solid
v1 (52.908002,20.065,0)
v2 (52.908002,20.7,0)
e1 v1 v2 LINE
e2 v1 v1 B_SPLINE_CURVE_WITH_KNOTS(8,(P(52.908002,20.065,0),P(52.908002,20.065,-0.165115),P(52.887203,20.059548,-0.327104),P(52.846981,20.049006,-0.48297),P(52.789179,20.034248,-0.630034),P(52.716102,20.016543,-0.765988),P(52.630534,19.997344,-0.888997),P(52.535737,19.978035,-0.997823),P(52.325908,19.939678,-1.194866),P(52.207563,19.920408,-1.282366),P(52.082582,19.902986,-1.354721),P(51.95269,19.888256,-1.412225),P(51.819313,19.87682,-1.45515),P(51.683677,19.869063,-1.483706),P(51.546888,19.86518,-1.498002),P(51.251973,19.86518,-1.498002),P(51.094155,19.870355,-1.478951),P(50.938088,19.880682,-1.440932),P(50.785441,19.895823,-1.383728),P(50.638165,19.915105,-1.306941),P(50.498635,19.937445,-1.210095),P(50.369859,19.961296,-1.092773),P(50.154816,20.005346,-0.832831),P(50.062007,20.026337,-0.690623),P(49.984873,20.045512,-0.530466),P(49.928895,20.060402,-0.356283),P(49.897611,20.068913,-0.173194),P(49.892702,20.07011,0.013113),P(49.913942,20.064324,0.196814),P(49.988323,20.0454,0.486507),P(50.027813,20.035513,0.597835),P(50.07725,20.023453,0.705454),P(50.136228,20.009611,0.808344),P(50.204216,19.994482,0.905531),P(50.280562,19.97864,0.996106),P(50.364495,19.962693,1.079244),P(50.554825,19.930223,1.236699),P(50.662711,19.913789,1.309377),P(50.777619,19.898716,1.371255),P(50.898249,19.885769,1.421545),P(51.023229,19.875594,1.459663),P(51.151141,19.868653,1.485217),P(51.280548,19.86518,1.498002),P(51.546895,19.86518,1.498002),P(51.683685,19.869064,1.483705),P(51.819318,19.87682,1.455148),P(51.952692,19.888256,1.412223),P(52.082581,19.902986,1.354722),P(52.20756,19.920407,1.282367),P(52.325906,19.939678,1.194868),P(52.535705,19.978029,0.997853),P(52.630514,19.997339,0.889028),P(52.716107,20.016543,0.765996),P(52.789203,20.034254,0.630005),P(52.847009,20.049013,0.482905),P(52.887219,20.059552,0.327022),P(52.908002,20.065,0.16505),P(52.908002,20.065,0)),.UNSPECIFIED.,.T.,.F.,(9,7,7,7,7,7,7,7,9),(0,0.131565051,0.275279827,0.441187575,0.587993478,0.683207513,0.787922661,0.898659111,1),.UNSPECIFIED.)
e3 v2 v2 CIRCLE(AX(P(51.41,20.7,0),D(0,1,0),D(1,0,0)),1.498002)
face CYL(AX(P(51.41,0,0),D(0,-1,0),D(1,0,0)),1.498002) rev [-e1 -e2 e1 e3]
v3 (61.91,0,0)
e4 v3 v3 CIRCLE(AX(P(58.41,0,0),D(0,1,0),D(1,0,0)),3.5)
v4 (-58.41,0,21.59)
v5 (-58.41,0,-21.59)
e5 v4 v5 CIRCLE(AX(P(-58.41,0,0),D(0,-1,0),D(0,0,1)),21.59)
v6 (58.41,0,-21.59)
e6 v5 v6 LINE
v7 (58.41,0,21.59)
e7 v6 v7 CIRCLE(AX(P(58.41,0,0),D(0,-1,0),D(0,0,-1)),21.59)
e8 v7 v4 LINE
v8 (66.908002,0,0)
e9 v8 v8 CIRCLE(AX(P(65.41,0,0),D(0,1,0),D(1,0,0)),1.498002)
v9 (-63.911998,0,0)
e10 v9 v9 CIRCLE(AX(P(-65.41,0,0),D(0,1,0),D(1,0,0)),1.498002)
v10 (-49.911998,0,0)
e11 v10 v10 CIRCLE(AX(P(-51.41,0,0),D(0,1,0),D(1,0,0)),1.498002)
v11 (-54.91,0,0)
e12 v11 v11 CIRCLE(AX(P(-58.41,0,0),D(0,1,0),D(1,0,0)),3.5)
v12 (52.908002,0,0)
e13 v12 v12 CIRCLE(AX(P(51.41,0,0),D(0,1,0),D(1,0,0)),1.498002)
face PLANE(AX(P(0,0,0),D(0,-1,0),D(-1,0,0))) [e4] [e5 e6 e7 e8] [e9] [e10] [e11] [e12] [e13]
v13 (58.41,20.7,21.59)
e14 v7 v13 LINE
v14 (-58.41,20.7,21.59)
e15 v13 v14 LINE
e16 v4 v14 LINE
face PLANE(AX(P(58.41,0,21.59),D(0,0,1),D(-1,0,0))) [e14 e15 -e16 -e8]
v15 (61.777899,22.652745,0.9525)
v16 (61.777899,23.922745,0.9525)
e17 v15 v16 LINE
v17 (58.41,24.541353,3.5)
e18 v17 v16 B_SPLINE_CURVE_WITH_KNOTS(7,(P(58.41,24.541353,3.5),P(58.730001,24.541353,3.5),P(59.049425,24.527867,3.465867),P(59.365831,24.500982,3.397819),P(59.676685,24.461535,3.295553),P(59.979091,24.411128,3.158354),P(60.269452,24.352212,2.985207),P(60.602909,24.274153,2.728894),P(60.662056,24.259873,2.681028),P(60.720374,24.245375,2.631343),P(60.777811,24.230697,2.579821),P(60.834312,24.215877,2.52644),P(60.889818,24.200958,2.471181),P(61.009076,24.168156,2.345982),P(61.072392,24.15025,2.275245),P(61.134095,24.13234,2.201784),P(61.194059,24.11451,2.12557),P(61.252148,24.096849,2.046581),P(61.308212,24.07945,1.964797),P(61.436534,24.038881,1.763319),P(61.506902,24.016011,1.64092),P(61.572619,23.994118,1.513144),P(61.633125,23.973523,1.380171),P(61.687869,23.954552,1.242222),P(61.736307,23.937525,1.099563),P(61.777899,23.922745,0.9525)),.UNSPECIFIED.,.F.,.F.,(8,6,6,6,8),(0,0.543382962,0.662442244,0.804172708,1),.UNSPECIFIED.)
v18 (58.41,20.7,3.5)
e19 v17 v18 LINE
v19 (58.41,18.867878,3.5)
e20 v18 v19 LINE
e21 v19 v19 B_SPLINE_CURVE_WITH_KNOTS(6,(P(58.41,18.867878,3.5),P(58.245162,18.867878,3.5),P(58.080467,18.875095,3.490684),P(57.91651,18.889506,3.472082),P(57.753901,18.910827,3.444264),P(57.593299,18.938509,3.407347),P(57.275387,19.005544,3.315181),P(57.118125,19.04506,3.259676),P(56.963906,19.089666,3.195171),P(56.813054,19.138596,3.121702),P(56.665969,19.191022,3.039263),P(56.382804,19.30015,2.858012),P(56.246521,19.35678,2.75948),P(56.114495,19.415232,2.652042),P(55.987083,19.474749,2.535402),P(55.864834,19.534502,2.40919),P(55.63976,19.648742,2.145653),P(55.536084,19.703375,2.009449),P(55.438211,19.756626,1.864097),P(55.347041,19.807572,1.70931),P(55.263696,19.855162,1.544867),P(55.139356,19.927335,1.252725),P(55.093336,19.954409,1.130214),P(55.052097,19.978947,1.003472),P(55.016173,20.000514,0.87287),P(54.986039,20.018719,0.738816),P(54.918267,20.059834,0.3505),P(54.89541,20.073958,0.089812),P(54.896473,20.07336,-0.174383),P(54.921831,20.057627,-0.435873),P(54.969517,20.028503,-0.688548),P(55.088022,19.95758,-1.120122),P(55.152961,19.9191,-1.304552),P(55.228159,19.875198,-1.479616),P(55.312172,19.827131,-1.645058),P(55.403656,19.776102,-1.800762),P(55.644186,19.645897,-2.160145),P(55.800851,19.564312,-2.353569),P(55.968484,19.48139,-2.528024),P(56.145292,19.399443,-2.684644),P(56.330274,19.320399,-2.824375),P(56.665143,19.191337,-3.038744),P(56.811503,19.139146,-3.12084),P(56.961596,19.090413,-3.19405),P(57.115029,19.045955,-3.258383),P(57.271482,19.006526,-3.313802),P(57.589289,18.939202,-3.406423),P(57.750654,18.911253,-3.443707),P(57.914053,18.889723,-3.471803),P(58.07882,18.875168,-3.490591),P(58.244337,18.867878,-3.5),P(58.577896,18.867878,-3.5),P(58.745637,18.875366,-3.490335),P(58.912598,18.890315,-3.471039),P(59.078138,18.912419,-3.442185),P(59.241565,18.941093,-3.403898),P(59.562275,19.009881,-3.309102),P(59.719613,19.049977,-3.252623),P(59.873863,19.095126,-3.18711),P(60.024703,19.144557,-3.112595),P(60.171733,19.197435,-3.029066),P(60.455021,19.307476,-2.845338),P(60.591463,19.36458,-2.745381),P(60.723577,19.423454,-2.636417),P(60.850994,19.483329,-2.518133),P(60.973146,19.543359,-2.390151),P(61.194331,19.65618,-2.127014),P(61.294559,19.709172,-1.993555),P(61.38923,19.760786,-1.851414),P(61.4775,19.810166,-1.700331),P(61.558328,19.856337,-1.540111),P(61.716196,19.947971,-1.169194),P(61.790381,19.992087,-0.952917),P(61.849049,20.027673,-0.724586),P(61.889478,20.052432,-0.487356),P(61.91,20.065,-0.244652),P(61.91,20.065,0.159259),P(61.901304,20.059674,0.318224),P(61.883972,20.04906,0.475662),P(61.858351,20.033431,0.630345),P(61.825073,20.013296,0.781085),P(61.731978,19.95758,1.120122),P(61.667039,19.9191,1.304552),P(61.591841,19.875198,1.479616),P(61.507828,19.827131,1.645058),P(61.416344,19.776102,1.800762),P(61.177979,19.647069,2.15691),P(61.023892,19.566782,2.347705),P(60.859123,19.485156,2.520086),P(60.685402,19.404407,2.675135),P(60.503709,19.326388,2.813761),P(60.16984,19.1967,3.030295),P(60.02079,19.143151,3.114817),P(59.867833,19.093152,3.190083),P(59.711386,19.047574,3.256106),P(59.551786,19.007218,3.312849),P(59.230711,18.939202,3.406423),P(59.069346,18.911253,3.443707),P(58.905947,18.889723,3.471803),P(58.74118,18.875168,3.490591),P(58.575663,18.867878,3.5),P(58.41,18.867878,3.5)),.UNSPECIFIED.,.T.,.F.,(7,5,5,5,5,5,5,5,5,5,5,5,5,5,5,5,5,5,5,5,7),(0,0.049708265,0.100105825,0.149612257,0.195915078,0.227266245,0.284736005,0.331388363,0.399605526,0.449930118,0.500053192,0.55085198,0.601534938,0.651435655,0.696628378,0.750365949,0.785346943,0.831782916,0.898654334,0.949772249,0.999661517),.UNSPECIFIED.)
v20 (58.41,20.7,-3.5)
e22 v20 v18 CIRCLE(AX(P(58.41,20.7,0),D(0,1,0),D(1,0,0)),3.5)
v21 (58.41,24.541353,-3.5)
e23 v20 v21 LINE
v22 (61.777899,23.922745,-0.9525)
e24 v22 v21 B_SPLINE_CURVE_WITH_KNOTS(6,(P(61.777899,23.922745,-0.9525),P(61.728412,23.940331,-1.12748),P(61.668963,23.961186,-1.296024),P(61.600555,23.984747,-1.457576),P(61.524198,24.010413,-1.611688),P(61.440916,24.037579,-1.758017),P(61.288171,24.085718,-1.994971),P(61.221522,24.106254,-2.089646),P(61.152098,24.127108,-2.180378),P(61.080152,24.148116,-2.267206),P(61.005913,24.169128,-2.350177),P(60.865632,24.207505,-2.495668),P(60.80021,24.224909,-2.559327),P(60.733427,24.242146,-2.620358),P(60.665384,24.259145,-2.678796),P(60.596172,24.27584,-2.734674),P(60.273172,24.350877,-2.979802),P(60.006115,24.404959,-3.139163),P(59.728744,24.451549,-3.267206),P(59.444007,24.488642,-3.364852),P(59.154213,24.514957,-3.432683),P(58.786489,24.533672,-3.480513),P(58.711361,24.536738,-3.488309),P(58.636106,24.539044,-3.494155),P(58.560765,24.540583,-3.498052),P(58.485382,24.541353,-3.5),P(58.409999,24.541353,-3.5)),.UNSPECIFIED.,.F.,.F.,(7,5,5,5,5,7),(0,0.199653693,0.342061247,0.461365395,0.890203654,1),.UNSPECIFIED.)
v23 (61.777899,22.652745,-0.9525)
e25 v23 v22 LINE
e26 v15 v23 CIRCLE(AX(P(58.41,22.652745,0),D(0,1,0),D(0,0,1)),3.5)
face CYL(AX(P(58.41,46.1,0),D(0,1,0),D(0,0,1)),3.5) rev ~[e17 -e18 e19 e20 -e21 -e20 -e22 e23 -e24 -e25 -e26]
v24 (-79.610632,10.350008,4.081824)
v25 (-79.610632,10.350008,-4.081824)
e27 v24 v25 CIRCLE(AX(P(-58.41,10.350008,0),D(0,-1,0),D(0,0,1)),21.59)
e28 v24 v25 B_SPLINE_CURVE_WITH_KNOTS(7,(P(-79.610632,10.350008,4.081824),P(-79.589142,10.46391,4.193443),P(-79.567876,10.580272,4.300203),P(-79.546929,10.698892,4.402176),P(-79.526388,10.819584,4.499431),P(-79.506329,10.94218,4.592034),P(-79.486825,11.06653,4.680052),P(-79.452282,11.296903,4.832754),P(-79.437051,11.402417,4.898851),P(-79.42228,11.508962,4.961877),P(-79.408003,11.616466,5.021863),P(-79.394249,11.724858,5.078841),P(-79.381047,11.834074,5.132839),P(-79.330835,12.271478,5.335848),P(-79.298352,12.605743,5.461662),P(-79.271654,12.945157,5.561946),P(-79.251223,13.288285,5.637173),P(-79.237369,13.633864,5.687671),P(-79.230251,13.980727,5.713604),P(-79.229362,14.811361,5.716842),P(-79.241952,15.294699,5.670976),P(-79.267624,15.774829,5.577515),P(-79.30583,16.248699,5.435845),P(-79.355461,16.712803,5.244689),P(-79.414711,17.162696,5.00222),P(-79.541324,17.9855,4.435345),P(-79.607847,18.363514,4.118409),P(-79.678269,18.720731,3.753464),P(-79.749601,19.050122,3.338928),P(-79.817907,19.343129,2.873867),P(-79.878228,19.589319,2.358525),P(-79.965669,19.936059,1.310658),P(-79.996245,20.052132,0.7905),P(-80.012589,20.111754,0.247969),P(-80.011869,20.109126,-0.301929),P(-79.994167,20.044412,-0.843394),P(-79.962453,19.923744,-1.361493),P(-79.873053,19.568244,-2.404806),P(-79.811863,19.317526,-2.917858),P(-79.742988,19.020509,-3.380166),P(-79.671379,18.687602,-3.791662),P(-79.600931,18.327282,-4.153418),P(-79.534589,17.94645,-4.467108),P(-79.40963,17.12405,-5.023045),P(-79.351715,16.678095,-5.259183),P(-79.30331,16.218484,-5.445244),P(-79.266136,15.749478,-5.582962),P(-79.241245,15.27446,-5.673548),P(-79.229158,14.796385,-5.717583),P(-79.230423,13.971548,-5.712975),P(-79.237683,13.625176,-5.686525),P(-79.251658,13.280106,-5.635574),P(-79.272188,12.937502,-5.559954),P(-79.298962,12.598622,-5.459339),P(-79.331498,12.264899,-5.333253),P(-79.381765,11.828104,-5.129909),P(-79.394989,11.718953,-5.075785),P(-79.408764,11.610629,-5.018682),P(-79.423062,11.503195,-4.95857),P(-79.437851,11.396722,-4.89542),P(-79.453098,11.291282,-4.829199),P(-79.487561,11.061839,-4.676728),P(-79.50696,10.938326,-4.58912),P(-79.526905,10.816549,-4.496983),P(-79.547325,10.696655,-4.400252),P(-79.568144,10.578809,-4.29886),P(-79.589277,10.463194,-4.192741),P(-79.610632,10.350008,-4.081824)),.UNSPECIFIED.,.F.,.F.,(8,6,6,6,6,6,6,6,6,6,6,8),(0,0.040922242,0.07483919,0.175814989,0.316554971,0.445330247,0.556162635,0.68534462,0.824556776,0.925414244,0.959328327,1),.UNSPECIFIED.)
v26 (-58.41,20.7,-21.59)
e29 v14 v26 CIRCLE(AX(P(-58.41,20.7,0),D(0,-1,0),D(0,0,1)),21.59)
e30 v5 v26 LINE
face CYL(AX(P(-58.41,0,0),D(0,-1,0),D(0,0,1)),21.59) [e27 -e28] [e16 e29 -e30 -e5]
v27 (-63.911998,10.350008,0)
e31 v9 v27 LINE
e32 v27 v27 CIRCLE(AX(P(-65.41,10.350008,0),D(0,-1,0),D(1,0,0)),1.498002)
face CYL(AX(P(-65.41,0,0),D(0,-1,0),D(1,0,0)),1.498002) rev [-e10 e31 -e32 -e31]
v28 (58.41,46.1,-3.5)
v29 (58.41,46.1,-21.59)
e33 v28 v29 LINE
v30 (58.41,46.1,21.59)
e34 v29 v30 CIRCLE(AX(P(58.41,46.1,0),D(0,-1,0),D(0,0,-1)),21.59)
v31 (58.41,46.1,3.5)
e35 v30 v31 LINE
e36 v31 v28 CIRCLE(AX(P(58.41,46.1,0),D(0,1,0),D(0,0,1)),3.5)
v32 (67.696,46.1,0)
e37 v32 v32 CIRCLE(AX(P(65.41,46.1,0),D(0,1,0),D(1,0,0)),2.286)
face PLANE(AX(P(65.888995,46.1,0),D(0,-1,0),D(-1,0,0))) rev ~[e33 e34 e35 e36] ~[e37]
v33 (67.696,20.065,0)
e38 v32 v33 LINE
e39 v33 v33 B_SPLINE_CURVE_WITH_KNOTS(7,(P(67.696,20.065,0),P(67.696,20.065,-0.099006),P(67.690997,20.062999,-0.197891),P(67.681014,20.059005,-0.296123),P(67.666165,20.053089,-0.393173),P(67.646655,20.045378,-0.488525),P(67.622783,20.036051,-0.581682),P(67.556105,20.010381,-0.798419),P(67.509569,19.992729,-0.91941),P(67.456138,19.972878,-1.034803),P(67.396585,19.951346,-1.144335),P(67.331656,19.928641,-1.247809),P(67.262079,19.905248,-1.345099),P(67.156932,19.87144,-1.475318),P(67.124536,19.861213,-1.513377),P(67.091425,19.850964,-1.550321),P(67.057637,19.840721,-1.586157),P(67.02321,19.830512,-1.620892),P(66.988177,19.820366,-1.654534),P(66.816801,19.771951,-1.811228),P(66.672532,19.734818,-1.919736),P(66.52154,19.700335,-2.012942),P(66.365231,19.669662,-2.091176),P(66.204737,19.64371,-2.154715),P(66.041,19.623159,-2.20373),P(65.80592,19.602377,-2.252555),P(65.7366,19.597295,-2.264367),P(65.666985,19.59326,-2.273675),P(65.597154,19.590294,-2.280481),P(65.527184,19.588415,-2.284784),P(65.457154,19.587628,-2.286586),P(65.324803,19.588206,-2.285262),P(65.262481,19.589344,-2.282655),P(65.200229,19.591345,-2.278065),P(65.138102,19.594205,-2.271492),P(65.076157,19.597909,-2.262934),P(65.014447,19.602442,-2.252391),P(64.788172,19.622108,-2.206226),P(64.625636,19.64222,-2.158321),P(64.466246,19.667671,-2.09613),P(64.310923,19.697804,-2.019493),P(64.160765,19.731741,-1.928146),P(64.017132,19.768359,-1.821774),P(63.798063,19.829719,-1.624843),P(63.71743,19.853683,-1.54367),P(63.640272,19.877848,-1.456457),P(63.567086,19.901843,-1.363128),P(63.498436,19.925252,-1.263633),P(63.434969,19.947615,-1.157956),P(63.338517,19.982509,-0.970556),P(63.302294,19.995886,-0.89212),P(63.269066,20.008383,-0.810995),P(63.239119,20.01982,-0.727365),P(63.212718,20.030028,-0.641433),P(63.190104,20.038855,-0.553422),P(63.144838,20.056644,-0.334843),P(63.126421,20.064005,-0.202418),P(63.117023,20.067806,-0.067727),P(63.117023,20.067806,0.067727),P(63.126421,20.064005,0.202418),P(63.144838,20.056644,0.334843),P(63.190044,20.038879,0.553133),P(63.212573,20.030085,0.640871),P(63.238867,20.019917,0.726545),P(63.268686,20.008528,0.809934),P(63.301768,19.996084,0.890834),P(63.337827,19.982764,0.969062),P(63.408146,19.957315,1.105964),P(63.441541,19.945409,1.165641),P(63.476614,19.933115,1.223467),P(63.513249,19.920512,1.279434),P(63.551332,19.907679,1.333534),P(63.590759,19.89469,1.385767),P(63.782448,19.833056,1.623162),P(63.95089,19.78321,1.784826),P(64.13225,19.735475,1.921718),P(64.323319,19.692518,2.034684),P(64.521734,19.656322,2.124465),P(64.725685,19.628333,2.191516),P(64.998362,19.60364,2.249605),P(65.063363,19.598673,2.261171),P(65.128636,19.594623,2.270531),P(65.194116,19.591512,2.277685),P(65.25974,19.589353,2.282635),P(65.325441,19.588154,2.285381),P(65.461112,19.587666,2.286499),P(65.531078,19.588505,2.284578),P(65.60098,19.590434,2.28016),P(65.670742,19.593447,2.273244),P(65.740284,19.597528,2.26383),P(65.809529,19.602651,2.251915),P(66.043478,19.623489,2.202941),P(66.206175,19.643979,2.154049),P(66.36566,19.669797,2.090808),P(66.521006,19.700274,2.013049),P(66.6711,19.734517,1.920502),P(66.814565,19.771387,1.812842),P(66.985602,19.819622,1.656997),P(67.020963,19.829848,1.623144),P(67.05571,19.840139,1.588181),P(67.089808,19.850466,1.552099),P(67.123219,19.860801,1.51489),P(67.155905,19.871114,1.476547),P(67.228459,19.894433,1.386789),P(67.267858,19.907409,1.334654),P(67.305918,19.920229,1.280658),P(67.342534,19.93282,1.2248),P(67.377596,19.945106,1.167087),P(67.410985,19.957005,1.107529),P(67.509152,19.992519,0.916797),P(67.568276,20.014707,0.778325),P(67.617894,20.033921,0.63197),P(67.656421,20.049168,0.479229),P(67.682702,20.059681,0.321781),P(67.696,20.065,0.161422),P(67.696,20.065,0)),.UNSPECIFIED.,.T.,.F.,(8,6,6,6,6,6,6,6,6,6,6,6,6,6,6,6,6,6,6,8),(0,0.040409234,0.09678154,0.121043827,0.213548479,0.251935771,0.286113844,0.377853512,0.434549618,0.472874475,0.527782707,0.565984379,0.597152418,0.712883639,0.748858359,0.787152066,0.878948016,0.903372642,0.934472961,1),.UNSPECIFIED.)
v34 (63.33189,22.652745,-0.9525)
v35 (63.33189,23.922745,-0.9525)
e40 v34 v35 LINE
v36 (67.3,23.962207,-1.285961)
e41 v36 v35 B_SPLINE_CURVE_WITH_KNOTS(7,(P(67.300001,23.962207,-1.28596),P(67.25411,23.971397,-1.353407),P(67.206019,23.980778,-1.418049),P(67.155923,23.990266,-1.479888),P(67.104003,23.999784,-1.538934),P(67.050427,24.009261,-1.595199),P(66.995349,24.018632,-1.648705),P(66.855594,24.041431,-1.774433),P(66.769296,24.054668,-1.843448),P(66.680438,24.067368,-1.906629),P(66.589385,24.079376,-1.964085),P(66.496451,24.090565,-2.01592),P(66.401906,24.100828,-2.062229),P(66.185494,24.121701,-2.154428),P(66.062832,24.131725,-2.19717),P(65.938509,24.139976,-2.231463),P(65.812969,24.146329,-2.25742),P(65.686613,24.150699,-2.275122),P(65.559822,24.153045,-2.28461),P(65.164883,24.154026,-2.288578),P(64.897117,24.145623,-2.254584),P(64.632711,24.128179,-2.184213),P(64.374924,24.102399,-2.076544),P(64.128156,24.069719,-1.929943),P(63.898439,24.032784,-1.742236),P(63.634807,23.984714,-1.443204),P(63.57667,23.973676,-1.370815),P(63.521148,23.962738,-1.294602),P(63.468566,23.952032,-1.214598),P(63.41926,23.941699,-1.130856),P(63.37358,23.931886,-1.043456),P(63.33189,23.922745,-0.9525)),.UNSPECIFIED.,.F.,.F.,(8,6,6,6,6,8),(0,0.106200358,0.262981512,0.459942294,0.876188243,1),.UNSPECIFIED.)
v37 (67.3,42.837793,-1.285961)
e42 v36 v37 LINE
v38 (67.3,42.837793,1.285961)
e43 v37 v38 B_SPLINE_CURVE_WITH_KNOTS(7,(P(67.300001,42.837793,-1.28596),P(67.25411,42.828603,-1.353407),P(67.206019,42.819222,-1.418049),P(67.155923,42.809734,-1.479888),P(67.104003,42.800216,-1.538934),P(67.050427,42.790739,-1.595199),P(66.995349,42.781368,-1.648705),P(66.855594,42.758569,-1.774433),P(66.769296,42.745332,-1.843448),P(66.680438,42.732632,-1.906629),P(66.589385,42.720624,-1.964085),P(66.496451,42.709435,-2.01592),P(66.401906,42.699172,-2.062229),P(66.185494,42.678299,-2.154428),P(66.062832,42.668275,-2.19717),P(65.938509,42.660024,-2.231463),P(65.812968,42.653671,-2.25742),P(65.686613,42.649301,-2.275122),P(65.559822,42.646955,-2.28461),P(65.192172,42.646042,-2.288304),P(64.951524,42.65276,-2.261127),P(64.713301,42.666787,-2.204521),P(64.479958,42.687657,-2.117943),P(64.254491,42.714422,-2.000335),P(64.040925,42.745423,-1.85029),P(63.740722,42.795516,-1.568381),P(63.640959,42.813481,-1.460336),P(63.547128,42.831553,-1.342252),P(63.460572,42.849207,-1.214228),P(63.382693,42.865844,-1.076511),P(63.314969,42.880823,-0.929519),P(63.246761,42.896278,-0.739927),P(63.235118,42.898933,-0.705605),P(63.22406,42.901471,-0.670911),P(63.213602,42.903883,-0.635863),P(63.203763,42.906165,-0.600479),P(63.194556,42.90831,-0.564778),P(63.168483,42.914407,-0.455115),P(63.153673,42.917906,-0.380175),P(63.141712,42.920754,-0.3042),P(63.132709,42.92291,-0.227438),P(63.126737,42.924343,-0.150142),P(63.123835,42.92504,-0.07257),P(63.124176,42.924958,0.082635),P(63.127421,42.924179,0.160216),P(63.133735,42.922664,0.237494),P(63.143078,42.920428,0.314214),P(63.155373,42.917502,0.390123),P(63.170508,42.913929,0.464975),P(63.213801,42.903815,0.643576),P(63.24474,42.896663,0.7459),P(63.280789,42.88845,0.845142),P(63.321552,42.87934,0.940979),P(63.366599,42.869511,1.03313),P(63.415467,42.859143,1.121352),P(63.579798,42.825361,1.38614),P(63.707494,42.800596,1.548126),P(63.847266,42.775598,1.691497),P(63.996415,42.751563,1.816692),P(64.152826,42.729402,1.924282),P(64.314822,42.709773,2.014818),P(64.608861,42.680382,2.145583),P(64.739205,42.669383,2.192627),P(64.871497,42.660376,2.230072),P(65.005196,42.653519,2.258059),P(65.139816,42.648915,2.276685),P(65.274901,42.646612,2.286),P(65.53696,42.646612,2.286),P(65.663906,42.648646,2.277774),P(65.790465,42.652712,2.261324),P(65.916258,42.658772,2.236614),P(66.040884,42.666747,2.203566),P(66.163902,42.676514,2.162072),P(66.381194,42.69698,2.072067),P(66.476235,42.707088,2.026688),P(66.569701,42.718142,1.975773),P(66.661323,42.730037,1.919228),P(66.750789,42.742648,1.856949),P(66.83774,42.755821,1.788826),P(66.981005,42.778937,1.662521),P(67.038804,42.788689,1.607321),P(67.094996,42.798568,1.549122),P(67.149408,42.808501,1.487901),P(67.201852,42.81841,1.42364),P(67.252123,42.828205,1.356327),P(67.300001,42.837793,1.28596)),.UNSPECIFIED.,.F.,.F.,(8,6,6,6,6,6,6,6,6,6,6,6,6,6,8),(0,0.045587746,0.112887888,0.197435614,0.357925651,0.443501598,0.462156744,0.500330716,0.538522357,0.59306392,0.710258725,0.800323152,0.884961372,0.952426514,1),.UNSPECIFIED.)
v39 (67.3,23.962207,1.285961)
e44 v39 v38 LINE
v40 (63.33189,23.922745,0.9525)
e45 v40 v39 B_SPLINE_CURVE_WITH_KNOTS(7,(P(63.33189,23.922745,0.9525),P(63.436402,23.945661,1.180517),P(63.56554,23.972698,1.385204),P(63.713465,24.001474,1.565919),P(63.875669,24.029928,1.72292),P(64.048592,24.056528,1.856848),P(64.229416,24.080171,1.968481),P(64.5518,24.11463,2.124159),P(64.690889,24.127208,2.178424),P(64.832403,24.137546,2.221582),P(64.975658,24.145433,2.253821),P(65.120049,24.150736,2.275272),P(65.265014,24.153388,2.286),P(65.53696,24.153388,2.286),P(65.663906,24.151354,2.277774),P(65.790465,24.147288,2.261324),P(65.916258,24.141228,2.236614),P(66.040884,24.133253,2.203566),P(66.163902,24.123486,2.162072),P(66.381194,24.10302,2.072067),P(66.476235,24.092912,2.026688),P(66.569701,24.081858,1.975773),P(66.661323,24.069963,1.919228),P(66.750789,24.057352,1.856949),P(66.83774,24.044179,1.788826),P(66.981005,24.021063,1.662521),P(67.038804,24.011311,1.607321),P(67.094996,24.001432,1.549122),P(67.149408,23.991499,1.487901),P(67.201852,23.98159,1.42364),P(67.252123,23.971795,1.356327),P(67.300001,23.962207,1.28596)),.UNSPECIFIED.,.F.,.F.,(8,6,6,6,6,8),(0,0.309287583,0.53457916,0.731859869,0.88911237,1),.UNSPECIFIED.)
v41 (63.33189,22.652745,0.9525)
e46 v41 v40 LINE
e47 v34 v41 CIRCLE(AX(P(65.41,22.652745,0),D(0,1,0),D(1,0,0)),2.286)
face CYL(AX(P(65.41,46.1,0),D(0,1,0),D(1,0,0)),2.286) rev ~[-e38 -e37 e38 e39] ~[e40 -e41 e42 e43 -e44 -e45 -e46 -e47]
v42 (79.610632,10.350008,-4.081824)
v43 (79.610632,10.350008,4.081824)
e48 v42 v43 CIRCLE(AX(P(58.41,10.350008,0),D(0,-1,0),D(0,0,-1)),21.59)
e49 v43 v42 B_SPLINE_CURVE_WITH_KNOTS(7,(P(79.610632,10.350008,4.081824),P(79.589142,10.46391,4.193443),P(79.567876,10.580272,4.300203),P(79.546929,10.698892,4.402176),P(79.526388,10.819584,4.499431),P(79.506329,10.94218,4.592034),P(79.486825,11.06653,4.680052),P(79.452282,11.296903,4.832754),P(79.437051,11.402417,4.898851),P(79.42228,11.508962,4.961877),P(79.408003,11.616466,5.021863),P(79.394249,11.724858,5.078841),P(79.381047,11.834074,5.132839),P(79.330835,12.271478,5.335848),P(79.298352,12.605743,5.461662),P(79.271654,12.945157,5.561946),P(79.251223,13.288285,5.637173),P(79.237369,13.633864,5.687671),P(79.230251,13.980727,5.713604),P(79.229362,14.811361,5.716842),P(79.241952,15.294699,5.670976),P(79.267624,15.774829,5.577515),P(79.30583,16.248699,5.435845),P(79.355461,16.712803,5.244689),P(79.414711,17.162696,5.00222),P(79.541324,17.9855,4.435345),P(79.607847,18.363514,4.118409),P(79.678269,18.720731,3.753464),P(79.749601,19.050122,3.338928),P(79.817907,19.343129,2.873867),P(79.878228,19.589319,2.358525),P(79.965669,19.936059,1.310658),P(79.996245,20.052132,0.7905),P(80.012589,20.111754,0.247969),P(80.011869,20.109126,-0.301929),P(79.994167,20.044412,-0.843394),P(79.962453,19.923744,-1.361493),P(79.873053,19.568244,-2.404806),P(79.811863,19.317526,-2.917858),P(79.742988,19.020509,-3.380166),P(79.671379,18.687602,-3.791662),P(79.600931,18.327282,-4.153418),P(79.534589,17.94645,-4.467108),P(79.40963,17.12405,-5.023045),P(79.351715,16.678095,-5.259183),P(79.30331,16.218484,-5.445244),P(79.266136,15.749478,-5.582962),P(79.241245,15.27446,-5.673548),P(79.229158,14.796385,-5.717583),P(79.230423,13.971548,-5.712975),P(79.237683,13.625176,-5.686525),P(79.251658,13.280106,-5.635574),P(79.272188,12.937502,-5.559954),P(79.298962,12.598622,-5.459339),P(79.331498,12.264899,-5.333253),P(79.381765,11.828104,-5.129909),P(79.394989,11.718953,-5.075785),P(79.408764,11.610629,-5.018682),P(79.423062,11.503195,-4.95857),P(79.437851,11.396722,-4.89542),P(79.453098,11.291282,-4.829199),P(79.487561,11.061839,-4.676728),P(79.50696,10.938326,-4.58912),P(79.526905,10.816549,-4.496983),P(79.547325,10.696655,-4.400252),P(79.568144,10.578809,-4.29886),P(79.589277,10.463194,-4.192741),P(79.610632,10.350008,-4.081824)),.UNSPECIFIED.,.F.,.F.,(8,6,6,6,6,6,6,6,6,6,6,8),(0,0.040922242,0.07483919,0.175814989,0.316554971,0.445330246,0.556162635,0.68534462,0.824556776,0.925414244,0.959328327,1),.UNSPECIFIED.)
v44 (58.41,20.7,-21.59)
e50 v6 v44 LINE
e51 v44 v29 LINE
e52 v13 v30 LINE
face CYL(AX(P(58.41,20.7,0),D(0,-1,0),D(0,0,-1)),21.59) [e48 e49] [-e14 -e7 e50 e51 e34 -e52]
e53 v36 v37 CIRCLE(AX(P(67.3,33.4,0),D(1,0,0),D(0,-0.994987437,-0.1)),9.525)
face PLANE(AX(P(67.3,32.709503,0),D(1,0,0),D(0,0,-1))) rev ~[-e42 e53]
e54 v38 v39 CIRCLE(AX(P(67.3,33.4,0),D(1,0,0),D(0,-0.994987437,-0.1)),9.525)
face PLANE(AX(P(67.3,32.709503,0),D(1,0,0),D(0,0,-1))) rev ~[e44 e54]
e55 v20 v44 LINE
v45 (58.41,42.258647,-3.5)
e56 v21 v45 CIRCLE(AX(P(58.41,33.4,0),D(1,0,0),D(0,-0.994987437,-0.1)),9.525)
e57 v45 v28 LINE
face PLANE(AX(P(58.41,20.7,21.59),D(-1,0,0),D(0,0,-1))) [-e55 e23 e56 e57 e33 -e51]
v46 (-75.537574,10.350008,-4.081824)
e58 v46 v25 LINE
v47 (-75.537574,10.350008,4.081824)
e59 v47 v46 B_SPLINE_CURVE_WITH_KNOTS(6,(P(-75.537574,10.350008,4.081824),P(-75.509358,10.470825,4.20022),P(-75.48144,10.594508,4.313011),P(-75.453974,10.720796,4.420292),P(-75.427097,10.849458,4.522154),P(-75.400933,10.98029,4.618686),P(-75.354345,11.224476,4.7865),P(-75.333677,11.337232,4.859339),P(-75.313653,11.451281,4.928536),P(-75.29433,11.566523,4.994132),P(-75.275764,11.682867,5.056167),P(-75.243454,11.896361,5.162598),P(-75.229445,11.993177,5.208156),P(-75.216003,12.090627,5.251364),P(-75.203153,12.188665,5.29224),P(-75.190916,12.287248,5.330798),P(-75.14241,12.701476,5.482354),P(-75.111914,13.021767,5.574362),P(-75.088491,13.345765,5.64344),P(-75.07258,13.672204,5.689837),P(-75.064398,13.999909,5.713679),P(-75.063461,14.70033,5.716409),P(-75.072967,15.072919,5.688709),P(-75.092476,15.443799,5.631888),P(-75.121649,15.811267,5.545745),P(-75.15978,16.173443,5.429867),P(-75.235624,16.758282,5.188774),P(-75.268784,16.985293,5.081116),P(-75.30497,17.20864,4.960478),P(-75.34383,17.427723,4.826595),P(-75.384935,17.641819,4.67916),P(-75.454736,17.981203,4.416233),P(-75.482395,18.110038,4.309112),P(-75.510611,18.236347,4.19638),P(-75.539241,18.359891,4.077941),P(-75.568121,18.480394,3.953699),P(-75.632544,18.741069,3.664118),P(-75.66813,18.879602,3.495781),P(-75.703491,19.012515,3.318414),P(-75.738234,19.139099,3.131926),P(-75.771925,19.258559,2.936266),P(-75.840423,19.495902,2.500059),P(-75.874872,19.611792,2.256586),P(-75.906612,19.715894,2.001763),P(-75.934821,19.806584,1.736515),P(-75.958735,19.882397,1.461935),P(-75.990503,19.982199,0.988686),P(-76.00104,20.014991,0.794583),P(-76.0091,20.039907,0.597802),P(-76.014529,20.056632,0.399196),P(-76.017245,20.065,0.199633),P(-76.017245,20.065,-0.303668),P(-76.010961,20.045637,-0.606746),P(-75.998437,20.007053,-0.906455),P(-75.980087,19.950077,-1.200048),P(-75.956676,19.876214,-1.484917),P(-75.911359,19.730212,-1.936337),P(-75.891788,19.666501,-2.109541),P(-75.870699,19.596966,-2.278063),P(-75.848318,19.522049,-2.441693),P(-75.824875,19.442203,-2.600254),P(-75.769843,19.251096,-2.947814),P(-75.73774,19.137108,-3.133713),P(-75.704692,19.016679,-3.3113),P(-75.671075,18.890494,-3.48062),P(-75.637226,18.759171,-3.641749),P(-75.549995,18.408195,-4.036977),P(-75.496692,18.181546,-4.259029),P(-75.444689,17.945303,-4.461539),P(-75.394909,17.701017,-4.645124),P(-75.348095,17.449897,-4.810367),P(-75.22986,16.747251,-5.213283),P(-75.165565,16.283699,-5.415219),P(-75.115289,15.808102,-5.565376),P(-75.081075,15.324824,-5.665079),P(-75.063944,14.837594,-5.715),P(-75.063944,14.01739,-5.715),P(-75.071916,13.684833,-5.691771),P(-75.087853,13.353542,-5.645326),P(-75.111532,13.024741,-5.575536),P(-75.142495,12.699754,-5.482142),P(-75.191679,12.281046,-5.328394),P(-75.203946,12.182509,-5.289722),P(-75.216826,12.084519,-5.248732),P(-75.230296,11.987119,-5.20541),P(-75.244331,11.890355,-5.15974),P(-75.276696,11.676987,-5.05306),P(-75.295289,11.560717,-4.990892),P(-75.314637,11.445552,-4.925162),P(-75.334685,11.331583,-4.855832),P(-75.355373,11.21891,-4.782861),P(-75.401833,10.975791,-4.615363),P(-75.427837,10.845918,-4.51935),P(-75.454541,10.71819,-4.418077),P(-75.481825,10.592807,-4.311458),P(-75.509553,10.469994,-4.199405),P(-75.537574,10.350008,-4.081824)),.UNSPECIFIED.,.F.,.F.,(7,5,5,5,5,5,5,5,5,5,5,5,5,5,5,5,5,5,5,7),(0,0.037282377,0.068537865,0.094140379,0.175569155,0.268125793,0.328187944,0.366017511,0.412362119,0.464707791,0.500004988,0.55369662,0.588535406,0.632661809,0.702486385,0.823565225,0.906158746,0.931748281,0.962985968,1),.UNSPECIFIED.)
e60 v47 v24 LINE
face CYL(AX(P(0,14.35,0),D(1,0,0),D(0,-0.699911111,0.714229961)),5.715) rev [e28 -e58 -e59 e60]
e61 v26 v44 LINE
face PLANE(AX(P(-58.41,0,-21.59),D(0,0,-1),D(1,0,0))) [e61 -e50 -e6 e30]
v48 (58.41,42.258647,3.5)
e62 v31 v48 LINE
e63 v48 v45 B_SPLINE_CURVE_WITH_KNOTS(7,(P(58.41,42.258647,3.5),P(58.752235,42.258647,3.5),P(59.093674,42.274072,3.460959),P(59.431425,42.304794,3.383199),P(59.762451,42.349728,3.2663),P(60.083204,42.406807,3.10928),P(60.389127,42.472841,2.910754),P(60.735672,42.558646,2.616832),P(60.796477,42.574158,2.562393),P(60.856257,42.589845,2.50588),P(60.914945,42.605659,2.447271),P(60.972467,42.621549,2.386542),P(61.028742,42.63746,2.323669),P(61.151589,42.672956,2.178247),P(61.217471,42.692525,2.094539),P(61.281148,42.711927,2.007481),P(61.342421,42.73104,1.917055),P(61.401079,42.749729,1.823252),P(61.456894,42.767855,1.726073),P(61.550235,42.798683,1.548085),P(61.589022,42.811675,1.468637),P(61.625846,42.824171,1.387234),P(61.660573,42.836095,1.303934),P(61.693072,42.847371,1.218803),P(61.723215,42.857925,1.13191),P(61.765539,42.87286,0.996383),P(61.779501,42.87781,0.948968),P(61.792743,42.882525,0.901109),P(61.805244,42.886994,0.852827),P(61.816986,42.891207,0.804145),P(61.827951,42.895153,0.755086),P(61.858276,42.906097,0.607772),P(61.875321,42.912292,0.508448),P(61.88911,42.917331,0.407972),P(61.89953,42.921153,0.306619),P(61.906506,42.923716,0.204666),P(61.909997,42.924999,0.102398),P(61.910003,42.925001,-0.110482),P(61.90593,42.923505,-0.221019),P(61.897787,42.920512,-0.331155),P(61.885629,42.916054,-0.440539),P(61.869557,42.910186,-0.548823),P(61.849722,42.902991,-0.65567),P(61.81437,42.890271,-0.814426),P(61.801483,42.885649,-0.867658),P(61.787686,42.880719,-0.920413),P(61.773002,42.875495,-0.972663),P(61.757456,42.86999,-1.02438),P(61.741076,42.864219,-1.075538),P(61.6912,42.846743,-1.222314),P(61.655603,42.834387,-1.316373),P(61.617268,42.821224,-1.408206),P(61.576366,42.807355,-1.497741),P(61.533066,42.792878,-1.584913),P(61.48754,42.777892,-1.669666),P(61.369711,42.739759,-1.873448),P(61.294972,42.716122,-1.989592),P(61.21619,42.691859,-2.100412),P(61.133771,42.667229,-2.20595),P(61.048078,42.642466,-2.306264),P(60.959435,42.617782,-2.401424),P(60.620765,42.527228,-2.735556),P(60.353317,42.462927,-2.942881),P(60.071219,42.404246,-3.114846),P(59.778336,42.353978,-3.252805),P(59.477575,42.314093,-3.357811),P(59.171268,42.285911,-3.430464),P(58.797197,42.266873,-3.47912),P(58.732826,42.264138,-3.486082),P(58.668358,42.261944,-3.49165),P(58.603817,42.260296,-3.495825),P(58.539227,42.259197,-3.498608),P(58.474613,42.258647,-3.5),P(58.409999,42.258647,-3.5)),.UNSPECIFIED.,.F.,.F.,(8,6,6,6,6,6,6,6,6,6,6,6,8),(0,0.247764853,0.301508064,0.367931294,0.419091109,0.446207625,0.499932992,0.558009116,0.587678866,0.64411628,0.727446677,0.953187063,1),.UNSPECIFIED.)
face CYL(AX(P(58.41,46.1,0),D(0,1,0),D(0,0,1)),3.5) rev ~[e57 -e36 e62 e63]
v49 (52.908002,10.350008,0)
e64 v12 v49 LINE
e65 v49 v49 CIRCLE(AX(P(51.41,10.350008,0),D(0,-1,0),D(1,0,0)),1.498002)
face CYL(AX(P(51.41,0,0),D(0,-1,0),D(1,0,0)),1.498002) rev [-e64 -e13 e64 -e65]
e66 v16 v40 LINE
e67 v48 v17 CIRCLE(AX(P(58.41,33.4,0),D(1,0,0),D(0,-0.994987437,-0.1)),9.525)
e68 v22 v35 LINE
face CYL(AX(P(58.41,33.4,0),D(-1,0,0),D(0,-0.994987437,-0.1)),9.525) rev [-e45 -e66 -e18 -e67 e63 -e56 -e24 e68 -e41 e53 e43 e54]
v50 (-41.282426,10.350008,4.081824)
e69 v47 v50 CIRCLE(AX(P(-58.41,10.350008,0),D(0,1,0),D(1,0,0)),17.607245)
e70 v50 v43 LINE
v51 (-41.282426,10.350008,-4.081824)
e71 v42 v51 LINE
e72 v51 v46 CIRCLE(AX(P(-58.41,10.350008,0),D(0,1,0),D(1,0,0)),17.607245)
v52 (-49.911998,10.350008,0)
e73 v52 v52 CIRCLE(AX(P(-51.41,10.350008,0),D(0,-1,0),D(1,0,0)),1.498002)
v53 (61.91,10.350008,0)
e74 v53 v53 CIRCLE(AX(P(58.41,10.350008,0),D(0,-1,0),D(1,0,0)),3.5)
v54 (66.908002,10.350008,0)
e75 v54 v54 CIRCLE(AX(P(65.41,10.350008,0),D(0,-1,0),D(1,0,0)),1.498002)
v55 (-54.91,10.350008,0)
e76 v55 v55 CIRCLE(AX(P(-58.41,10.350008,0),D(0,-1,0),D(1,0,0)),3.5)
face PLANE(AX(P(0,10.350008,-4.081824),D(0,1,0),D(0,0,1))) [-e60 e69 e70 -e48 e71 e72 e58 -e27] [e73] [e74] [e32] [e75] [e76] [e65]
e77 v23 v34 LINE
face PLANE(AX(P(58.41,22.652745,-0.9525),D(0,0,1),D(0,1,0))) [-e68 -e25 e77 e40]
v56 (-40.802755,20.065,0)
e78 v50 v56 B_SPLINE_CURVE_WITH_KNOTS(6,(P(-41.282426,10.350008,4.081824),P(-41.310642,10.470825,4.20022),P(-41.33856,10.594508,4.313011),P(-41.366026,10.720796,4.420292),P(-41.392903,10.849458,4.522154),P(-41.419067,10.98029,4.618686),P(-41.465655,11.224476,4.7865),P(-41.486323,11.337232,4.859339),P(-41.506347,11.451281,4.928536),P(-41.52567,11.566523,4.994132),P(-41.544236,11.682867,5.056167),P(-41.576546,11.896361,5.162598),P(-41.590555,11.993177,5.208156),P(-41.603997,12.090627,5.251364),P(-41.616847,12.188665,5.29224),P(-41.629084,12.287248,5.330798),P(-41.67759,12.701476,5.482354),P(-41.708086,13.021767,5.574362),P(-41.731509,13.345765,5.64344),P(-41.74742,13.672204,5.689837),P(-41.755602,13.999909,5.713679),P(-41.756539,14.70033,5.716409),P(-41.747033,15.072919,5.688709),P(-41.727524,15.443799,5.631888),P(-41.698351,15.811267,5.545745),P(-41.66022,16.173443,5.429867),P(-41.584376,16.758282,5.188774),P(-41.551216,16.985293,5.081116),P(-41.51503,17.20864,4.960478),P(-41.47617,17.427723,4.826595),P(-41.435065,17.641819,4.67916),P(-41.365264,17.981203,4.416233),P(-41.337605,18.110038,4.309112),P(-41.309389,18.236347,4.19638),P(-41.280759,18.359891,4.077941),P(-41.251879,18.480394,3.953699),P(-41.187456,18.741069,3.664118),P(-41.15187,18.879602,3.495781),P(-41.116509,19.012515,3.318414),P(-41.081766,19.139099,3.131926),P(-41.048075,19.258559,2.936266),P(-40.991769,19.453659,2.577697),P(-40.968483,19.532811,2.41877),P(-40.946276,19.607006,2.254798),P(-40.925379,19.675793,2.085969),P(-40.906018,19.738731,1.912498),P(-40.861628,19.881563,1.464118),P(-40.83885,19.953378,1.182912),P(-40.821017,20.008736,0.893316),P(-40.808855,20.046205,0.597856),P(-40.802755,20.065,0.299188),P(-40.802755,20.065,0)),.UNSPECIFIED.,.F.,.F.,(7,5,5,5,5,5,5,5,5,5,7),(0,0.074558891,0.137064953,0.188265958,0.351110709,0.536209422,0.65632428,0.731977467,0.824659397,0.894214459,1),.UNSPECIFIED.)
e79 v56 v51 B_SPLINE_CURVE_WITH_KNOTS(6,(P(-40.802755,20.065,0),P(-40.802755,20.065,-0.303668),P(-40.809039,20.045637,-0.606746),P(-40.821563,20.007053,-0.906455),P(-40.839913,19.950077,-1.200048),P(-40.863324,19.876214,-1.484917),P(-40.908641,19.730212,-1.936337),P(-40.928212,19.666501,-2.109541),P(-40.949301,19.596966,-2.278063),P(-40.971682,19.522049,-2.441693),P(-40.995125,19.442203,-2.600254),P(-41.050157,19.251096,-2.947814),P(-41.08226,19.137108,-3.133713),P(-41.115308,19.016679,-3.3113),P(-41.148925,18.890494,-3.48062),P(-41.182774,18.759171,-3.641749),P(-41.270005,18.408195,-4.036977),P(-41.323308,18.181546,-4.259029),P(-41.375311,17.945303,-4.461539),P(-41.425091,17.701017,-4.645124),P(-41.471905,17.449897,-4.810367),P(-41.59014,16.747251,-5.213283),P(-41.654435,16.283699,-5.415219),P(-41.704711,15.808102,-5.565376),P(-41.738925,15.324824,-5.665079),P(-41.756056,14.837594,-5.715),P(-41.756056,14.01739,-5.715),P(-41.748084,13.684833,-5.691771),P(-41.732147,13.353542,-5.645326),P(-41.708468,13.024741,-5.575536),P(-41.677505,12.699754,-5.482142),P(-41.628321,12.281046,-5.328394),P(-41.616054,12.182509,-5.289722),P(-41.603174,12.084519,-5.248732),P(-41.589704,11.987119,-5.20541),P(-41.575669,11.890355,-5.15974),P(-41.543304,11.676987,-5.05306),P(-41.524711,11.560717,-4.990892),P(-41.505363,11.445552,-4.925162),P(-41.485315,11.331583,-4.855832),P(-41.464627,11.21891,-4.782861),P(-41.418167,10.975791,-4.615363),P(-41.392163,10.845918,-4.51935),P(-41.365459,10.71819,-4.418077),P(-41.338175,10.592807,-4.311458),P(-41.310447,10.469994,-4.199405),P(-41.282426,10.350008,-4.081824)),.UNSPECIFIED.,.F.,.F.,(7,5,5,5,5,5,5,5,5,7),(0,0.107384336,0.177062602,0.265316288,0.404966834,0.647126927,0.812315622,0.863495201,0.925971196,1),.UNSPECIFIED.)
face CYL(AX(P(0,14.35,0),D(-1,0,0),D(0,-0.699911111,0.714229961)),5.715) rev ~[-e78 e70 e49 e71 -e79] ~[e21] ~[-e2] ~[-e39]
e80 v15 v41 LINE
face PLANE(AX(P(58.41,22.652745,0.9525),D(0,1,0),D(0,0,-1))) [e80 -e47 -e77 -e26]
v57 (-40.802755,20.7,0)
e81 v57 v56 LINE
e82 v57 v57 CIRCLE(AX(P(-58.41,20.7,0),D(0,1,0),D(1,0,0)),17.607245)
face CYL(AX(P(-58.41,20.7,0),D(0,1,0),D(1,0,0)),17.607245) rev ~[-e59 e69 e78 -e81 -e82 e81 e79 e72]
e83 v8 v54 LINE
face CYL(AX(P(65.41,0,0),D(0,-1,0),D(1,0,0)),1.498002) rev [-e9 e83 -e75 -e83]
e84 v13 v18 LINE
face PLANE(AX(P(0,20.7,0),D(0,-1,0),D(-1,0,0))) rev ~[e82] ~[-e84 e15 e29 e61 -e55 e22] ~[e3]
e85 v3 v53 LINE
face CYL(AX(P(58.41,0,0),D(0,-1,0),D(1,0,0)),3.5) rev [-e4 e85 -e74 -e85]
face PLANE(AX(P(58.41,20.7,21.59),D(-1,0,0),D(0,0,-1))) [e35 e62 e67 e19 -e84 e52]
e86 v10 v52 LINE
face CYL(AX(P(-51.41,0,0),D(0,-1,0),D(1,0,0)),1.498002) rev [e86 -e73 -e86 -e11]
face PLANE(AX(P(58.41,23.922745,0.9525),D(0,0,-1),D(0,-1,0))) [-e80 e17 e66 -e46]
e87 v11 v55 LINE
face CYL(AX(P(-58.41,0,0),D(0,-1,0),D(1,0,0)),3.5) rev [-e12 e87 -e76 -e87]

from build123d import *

# Parameters (mm, degrees)
SKETCH1_R               = 3.5
SKETCH1_R_2             = 1.498001977
BOSS_EXTRUDE1_DEPTH     = 20.7
SKETCH2_R               = 17.607245412
CUT_EXTRUDE1_DEPTH      = 10.349992
CUT_EXTRUDE2_DEPTH      = 81
CUT_EXTRUDE2_DEPTH_BACK = 81
SKETCH4_R               = 1.498001977
BOSS_EXTRUDE2_DEPTH     = 25.4
CUT_EXTRUDE3_DEPTH      = 8.89
CUT_EXTRUDE4_DEPTH      = 46.1
SKETCH7_R               = 2.286
CUT_EXTRUDE5_DEPTH      = 35.749992


with BuildPart() as part:
    # Sketch1 → Boss-Extrude1 (new body)
    with BuildSketch(Plane(origin=(0, 0, 0), x_dir=(1, 0, 0), z_dir=(0, 1, 0))):
        with BuildLine():
            Line((-58.41, 21.59), (58.41, 21.59))
            ThreePointArc((58.41, 21.59), (80, 0), (58.41, -21.59))
            Line((58.41, -21.59), (-58.41, -21.59))
            ThreePointArc((-58.41, -21.59), (-80, 0), (-58.41, 21.59))
        make_face()
        with Locations((-58.41, 0)):
            Circle(SKETCH1_R, mode=Mode.SUBTRACT)
        with Locations((-51.41, 0)):
            Circle(SKETCH1_R_2, mode=Mode.SUBTRACT)
        with Locations((-65.41, 0)):
            Circle(SKETCH1_R_2, mode=Mode.SUBTRACT)
        with Locations((51.41, 0)):
            Circle(SKETCH1_R_2, mode=Mode.SUBTRACT)
        with Locations((65.41, 0)):
            Circle(SKETCH1_R_2, mode=Mode.SUBTRACT)
        with Locations((58.41, 0)):
            Circle(SKETCH1_R, mode=Mode.SUBTRACT)
    extrude(amount=BOSS_EXTRUDE1_DEPTH)

    # Sketch2 → Cut-Extrude1 (cut)
    with BuildSketch(Plane(origin=(0, 20.7, 0), x_dir=(1, 0, 0), z_dir=(0, 1, 0))):
        with Locations((-58.41, 0)):
            Circle(SKETCH2_R)
    extrude(amount=-CUT_EXTRUDE1_DEPTH, mode=Mode.SUBTRACT)

    # Sketch3 → Cut-Extrude2 (cut, two sides)
    with BuildSketch(Plane(origin=(0, 0, 0), x_dir=(0, 0, -1), z_dir=(1, 0, 0))) as cut_extrude2_sk:
        with BuildLine():
            Line((4.081824225, 10.350008), (-4.081824225, 10.350008))
            ThreePointArc((-4.081824225, 10.350008), (0, 20.065), (4.081824225, 10.350008))
        make_face()
    extrude(amount=CUT_EXTRUDE2_DEPTH, mode=Mode.SUBTRACT)
    extrude(cut_extrude2_sk.sketch, amount=-CUT_EXTRUDE2_DEPTH_BACK, mode=Mode.SUBTRACT)

    # Sketch4 → Boss-Extrude2 (add)
    with BuildSketch(Plane(origin=(0, 20.7, 0), x_dir=(1, 0, 0), z_dir=(0, 1, 0))):
        with BuildLine():
            Line((58.41, -21.59), (58.41, 21.59))
            ThreePointArc((58.41, 21.59), (80, 0), (58.41, -21.59))
        make_face()
        with Locations((65.41, 0)):
            Circle(SKETCH4_R, mode=Mode.SUBTRACT)
    extrude(amount=BOSS_EXTRUDE2_DEPTH)

    # Sketch5 → Cut-Extrude3 (cut)
    with BuildSketch(Plane.ZY.offset(-58.41)):
        with BuildLine():
            Line((0.9525, 22.652744662), (-0.9525, 22.652744662))
            Line((-0.9525, 22.652744662), (-0.9525, 23.922744662))
            ThreePointArc((-0.9525, 23.922744662), (0, 42.925), (0.9525, 23.922744662))
            Line((0.9525, 23.922744662), (0.9525, 22.652744662))
        make_face()
    extrude(amount=-CUT_EXTRUDE3_DEPTH, mode=Mode.SUBTRACT)

    # Sketch6 → Cut-Extrude4 (cut)
    with BuildSketch(Plane(origin=(0, 46.1, 0), x_dir=(1, 0, 0), z_dir=(0, 1, 0))):
        with BuildLine():
            Line((58.41, -3.5), (58.41, 3.5))
            ThreePointArc((58.41, 3.5), (54.91, 0), (58.41, -3.5))
        make_face()
        with BuildLine():
            ThreePointArc((58.41, -3.5), (61.91, 0), (58.41, 3.5))
            Line((58.41, 3.5), (58.41, -3.5))
        make_face()
    extrude(amount=-CUT_EXTRUDE4_DEPTH, mode=Mode.SUBTRACT)

    # Sketch7 → Cut-Extrude5 (cut)
    with BuildSketch(Plane(origin=(0, 46.1, 0), x_dir=(1, 0, 0), z_dir=(0, 1, 0))):
        with Locations((65.41, 0)):
            Circle(SKETCH7_R)
    extrude(amount=-CUT_EXTRUDE5_DEPTH, mode=Mode.SUBTRACT)


solid = part.part
